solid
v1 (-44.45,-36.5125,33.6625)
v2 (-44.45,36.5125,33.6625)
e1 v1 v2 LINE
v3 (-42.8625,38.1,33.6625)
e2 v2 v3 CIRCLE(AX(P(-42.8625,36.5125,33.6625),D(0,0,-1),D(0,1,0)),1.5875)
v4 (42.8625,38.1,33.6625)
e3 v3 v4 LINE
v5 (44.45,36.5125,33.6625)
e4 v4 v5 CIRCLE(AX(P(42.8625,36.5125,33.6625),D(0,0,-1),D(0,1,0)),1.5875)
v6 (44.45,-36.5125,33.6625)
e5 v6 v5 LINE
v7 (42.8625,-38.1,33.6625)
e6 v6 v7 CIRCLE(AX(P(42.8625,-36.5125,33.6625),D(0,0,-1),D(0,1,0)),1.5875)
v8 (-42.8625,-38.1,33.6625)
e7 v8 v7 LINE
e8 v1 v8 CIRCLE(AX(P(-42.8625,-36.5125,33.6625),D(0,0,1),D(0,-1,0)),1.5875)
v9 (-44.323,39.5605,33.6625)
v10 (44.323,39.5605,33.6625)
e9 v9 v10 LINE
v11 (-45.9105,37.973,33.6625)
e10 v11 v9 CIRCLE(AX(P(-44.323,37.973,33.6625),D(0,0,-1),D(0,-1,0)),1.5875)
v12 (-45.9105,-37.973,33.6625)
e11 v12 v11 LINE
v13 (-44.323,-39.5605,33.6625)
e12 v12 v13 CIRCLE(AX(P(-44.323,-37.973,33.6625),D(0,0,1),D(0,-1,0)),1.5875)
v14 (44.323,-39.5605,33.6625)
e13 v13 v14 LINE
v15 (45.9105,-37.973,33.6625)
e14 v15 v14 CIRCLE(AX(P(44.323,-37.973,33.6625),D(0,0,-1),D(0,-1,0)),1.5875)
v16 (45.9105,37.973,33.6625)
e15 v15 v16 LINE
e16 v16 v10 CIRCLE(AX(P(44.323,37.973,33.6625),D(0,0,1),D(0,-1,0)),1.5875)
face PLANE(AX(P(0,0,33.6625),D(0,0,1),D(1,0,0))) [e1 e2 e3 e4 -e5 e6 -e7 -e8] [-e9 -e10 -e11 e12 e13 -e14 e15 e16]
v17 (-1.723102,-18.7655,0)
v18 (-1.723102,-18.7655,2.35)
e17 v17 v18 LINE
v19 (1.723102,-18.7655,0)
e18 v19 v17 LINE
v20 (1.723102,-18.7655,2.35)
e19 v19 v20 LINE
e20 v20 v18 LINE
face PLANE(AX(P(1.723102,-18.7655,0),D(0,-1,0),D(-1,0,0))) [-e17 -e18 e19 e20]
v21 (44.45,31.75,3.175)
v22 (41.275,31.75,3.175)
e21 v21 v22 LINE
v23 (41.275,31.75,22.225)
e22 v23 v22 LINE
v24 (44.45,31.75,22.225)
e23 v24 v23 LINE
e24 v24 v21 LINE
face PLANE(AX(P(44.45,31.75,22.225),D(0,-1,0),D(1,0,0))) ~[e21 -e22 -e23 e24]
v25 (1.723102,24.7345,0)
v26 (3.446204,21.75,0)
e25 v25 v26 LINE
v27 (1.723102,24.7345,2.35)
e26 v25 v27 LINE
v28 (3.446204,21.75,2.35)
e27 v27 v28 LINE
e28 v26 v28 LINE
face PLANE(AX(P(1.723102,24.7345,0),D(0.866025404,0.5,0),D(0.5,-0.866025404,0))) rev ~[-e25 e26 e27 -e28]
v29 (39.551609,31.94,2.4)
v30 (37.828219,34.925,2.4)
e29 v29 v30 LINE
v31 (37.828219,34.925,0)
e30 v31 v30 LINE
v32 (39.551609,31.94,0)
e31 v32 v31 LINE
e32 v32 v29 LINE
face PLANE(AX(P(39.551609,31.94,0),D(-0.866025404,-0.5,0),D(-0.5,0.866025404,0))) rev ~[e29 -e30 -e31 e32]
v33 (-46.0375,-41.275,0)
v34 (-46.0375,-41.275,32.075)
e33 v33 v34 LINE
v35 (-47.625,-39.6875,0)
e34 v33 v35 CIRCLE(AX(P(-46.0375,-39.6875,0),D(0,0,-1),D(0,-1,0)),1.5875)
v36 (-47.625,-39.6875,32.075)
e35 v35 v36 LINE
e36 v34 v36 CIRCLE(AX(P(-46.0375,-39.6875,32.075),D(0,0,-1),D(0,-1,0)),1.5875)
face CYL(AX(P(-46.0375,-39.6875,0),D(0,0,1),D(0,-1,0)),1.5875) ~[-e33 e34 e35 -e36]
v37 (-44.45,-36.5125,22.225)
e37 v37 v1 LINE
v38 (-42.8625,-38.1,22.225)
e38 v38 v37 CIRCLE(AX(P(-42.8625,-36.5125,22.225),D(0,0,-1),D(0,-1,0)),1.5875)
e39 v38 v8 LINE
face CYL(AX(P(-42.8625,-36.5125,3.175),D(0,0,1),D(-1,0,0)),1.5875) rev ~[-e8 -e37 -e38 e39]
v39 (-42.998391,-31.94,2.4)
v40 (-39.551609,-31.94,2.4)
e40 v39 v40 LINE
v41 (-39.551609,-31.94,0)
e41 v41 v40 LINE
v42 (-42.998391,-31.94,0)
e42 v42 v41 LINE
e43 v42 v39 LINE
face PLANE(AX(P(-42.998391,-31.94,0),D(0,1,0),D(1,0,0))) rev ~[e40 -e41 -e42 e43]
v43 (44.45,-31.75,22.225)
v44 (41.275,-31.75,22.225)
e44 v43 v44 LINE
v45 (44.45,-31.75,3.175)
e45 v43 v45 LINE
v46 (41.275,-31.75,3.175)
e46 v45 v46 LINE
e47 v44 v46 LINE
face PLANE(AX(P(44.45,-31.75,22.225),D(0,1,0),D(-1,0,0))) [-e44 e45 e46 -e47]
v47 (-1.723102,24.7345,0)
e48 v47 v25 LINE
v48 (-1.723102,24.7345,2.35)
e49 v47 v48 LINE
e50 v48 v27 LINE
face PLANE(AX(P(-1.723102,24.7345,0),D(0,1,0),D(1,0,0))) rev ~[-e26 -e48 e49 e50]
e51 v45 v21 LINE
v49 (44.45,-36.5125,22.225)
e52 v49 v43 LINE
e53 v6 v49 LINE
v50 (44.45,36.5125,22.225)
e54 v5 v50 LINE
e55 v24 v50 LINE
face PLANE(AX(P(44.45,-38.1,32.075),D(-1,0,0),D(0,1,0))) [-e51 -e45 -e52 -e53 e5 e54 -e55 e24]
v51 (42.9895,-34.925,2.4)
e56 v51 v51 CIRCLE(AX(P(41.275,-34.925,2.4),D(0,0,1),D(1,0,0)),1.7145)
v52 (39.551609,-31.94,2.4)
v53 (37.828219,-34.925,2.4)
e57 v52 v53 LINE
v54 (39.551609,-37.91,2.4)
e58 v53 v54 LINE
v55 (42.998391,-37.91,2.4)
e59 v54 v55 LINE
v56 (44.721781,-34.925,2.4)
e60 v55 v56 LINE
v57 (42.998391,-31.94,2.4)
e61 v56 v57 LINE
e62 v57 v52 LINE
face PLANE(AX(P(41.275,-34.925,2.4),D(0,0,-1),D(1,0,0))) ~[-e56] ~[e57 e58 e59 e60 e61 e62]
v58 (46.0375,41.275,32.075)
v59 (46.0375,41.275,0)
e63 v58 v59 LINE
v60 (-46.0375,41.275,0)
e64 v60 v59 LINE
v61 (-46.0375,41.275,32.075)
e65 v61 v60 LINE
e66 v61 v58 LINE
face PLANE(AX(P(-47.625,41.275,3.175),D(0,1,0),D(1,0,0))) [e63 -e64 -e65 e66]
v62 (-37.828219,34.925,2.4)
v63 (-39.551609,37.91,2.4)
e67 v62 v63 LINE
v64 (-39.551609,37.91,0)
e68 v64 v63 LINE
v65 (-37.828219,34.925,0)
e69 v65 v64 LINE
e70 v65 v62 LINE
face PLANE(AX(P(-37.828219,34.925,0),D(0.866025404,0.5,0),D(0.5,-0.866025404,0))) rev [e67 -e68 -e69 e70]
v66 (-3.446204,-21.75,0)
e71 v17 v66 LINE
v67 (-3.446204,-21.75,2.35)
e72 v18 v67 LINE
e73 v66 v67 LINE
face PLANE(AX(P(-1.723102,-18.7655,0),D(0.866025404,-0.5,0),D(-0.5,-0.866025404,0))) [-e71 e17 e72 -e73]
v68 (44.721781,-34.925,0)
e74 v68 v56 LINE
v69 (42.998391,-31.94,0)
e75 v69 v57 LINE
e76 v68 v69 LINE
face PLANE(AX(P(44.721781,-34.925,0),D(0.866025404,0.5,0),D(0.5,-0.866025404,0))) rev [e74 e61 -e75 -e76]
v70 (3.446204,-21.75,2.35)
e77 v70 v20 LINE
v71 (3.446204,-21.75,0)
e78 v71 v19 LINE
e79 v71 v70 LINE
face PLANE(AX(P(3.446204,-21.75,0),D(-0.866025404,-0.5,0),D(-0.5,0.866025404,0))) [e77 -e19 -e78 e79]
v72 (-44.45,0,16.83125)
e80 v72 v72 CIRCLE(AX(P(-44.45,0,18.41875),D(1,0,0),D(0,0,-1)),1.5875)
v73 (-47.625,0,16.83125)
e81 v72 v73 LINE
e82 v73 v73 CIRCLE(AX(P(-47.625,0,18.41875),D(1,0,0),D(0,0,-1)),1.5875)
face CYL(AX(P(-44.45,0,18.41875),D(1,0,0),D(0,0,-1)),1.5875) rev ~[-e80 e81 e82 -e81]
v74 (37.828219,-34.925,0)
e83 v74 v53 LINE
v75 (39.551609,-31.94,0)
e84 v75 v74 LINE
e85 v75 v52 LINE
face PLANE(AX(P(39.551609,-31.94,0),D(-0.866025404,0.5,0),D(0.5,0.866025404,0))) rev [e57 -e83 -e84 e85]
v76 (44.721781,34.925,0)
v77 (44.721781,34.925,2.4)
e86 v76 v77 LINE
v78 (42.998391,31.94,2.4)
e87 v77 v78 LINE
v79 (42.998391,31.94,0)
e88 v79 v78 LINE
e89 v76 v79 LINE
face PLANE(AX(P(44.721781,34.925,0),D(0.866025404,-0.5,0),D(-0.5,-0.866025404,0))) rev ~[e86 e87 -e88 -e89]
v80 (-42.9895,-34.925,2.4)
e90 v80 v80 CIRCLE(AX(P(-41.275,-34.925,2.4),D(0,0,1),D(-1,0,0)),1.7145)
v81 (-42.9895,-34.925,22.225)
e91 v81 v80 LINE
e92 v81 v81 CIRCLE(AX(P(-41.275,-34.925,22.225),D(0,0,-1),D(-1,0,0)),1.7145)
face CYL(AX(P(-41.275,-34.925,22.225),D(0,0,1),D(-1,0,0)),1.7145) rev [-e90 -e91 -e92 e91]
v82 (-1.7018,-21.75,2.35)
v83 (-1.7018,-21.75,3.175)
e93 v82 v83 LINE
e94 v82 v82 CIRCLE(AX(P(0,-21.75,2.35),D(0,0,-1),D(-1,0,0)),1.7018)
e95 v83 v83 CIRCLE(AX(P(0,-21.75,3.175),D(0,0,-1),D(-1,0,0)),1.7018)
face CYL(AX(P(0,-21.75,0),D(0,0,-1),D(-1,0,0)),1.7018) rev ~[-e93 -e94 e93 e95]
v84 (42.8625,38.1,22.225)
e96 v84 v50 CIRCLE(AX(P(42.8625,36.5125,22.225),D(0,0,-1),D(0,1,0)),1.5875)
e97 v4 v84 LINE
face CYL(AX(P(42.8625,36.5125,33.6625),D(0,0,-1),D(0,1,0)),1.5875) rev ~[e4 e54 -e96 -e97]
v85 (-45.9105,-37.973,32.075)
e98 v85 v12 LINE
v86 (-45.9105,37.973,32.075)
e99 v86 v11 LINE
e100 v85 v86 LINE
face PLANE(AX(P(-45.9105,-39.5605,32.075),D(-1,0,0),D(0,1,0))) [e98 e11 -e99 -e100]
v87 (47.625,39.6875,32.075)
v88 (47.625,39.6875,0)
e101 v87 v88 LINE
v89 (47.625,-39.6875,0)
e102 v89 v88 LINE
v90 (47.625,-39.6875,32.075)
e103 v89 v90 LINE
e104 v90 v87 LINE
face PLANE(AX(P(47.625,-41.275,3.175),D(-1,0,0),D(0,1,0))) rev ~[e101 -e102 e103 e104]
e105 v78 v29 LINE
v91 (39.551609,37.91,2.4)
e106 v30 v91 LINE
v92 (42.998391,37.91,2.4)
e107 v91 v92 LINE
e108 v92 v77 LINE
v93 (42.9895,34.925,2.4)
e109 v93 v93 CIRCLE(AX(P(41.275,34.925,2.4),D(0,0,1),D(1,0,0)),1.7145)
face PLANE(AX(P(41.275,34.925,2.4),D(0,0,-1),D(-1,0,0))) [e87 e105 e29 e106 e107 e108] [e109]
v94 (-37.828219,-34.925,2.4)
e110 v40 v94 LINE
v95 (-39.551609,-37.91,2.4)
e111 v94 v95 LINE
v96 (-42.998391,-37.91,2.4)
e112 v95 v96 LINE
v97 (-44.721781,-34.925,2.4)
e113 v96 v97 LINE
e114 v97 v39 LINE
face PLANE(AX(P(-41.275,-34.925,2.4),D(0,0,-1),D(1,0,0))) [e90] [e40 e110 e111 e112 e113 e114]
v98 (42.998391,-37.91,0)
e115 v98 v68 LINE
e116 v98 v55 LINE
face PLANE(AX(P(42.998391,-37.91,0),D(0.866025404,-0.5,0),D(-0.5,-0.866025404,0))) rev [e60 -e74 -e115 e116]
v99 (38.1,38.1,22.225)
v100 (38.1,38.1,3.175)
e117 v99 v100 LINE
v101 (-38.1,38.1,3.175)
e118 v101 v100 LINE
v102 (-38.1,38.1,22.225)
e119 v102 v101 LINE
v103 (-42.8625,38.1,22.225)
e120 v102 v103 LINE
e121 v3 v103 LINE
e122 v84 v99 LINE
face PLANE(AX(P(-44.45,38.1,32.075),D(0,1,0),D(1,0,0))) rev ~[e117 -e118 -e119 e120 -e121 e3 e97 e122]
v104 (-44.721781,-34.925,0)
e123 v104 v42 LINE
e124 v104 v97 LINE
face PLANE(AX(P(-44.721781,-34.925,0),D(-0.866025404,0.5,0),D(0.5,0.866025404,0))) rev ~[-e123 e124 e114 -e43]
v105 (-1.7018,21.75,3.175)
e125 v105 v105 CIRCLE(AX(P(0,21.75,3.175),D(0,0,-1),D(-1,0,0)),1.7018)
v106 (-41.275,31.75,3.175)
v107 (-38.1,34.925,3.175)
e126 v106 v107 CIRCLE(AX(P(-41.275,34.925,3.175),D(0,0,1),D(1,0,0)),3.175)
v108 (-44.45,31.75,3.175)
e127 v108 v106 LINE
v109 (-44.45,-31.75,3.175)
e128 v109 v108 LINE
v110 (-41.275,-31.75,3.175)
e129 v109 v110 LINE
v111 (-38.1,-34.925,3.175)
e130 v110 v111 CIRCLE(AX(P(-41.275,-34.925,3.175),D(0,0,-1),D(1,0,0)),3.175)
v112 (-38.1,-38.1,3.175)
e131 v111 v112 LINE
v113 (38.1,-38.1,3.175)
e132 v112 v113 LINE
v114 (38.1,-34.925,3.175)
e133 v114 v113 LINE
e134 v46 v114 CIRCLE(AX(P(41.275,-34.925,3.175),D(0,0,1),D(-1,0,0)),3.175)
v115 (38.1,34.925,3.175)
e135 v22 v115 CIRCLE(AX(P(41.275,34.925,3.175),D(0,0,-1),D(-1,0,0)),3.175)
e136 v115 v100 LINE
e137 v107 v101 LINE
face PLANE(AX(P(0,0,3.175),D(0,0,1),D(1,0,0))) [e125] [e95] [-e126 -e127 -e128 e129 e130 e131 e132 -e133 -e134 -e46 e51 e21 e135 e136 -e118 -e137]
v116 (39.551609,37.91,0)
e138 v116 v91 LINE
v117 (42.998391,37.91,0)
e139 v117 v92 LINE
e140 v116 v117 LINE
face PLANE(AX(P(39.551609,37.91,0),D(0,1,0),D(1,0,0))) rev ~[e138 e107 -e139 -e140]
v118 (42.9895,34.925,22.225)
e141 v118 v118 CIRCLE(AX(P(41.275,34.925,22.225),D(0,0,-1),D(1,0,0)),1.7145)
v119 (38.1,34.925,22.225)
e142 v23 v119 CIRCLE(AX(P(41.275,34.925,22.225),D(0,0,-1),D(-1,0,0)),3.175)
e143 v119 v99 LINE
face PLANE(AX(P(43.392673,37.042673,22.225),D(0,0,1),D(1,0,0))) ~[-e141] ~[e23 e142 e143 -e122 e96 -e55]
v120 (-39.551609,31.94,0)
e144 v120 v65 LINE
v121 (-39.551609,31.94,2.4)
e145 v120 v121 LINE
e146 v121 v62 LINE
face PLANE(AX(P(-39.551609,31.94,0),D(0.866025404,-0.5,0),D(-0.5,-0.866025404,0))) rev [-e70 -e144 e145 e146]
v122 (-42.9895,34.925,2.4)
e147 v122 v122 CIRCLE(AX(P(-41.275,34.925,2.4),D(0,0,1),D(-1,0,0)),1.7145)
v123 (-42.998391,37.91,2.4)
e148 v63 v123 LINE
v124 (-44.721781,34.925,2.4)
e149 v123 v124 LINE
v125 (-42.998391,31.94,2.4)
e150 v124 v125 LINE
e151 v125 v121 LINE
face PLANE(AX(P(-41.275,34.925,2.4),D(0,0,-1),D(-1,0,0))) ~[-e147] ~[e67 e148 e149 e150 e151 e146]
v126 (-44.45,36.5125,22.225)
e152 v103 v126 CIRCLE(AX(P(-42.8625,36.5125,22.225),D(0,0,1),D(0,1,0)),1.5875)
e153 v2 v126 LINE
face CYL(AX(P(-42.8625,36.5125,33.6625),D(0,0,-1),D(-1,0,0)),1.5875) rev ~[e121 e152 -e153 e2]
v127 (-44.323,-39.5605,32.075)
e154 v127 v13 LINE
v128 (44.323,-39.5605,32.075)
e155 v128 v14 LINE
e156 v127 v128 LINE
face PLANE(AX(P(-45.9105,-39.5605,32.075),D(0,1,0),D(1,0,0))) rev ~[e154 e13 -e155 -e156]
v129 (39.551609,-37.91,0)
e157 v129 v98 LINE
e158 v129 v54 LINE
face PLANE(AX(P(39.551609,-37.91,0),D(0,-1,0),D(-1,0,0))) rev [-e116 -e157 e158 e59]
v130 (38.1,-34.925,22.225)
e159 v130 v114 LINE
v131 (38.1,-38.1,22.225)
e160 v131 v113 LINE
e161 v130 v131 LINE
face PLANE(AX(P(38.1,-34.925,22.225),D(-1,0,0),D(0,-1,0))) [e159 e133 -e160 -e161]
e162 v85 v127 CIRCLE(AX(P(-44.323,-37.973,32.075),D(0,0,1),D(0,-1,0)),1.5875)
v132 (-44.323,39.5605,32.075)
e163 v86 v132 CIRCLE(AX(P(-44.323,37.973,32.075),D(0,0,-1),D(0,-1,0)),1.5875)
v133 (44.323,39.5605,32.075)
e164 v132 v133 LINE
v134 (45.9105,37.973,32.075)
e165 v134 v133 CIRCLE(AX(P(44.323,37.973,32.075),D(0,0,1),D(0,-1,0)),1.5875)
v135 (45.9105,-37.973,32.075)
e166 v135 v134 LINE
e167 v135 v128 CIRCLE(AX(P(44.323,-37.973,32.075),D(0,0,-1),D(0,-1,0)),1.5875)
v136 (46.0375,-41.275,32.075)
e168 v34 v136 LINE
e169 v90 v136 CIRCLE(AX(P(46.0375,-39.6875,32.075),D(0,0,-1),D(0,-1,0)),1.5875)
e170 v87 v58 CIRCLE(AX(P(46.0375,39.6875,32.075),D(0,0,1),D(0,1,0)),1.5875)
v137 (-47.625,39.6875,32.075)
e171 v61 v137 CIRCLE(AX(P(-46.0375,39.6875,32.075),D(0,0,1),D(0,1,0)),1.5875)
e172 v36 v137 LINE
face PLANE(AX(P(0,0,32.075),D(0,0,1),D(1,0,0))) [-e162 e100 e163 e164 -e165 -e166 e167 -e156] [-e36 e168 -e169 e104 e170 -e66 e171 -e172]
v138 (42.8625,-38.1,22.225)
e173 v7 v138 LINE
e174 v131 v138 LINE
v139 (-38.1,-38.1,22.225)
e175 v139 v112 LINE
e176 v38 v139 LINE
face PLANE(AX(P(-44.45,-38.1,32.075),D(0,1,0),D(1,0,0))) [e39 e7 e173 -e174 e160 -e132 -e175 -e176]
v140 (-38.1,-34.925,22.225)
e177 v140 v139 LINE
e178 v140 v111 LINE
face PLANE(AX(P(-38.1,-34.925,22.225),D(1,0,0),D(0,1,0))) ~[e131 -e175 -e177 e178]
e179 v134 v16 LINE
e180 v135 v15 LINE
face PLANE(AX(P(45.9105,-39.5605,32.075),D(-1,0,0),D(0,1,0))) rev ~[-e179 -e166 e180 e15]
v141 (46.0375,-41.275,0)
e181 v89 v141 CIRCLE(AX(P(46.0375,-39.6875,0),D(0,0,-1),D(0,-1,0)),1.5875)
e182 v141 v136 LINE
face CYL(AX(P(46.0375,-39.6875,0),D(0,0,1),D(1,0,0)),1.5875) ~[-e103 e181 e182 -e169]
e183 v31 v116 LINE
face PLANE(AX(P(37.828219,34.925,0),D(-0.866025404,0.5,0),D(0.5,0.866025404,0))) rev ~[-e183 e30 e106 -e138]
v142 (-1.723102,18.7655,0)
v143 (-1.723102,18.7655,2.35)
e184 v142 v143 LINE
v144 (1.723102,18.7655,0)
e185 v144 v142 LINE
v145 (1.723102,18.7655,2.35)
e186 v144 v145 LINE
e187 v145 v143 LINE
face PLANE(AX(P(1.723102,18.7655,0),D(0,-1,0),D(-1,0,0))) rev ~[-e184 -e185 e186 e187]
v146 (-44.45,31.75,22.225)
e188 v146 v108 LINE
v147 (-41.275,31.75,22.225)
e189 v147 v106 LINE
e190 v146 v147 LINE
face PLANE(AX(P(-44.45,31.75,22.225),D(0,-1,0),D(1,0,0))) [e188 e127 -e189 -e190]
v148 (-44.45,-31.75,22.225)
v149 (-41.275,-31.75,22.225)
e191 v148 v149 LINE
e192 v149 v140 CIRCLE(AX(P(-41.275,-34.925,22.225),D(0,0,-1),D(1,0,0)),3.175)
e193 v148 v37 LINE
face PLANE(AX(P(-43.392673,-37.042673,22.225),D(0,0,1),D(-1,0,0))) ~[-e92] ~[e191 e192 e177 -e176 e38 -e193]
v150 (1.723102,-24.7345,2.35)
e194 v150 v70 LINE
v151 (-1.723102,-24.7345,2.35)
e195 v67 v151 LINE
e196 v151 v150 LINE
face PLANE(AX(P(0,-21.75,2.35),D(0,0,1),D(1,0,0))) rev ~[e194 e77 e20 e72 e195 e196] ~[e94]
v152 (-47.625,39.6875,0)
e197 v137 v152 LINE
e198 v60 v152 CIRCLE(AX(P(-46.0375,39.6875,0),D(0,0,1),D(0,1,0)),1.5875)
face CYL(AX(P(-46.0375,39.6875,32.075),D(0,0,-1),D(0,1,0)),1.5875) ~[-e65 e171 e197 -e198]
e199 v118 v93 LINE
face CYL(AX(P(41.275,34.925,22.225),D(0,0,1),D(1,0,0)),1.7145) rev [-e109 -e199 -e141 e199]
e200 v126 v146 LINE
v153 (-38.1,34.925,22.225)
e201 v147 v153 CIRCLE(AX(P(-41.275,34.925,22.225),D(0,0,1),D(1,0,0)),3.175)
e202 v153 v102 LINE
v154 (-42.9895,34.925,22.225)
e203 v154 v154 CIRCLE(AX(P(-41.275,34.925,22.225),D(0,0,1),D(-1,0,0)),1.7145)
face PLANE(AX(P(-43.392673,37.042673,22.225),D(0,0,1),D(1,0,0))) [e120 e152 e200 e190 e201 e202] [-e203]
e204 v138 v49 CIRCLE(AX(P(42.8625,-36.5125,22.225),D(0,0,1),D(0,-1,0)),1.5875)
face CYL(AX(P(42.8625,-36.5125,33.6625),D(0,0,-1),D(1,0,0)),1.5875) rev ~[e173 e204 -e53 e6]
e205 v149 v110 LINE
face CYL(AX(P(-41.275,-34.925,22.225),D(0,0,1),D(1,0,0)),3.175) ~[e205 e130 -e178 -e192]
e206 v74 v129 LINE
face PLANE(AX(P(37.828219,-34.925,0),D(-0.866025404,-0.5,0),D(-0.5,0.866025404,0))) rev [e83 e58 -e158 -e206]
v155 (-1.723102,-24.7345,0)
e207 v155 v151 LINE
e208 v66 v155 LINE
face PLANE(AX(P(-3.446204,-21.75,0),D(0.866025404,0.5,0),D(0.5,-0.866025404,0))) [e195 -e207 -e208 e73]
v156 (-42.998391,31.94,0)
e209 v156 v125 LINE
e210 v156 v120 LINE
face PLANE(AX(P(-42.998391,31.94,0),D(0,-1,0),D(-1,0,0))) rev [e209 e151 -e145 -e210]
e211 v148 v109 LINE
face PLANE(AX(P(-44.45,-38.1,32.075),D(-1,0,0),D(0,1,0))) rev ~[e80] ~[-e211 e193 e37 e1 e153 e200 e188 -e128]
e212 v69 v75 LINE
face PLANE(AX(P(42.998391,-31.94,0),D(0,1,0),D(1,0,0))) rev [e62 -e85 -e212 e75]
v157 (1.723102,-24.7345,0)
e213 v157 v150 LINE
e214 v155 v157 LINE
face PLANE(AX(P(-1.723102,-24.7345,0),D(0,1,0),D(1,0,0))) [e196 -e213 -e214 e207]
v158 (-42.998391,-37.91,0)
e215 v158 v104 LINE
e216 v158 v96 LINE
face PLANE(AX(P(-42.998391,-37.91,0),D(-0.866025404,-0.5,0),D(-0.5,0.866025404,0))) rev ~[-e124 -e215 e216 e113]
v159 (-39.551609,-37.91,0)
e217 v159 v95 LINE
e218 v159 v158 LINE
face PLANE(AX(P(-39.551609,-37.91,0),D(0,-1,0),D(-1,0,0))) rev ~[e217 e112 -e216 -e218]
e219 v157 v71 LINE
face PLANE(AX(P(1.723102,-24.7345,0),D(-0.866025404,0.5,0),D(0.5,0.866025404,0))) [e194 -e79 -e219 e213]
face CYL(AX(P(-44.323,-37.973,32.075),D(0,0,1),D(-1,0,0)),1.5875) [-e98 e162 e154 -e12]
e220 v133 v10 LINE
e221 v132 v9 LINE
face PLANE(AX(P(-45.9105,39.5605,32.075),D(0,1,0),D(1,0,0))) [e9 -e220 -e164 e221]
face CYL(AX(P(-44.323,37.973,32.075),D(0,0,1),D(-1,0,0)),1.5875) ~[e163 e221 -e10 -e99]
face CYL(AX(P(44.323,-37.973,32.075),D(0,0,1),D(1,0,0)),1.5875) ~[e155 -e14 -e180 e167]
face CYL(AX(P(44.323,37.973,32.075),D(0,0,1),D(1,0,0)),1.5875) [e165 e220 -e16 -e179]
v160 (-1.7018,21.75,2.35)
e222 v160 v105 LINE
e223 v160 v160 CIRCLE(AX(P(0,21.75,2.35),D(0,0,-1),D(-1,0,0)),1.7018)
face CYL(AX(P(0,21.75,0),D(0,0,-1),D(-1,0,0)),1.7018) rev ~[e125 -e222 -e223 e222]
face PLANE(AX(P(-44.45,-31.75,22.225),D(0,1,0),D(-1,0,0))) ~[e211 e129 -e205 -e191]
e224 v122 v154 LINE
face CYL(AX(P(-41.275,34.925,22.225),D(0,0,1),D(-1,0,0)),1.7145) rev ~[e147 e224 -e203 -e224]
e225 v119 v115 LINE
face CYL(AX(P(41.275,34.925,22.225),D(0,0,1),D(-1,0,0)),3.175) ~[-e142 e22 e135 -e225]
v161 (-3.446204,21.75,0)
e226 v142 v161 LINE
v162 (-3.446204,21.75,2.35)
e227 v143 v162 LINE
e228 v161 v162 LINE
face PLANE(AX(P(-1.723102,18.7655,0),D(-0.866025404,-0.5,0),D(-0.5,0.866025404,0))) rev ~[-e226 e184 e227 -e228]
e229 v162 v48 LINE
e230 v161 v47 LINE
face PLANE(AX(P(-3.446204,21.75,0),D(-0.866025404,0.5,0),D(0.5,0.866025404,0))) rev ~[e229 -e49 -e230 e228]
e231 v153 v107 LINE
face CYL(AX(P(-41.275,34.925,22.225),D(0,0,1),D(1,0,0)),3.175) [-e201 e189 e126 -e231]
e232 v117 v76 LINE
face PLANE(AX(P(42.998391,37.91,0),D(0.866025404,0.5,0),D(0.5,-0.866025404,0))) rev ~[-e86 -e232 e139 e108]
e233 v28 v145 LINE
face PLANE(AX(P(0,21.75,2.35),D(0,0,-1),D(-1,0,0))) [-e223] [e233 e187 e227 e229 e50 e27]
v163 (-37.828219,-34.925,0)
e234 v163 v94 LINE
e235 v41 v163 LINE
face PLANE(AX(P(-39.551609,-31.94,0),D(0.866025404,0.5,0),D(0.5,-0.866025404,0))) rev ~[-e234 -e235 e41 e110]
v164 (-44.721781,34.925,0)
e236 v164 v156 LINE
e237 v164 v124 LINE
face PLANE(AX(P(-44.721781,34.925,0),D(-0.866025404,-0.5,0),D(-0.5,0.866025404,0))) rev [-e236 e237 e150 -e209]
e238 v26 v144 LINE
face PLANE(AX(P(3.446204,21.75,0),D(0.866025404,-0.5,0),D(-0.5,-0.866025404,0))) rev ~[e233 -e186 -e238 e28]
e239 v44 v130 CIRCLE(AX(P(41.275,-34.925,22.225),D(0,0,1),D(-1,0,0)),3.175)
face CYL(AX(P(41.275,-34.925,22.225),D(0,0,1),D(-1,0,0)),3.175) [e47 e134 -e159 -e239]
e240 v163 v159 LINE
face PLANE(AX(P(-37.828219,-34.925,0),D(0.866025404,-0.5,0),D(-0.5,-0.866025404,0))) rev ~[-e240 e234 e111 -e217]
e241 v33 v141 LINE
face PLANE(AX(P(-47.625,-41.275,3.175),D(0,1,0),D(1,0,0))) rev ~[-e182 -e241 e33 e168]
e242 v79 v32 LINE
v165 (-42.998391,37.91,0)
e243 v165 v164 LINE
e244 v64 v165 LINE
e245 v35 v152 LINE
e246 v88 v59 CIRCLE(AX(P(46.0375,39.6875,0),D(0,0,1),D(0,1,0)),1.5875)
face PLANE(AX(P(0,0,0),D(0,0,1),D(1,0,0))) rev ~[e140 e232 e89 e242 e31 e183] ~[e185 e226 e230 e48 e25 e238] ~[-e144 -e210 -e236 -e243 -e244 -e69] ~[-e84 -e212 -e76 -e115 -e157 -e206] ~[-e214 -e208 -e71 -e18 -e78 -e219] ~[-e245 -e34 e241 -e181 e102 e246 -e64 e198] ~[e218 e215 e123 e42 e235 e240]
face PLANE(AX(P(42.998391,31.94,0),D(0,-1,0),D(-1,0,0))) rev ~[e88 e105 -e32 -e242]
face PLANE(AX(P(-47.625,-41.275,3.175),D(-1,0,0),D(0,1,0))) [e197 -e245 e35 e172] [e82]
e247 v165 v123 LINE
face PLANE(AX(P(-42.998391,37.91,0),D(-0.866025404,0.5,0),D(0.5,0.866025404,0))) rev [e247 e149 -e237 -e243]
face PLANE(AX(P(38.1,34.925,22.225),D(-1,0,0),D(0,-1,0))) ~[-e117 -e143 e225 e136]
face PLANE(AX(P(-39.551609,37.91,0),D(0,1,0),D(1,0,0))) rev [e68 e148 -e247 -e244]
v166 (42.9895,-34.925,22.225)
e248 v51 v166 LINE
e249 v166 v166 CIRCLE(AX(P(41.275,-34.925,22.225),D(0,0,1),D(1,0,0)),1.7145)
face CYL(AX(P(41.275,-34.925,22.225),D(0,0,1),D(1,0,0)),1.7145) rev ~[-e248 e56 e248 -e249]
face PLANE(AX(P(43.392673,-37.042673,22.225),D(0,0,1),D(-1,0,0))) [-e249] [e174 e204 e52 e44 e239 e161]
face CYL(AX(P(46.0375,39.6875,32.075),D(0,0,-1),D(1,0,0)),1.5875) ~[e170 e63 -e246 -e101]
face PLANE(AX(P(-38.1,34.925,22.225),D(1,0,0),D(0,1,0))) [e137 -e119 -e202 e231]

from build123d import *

# Parameters (mm, degrees)
SKETCH1_W                                    = 95.25
SKETCH1_H                                    = 82.55
BOSS_EXTRUDE1_DEPTH                          = 3.175
SKETCH2_W                                    = 95.25
SKETCH2_H                                    = 82.55
SKETCH2_W_2                                  = 88.9
SKETCH2_H_2                                  = 76.2
BOSS_EXTRUDE2_DEPTH                          = 28.9
SKETCH3_W                                    = 91.821
SKETCH3_H                                    = 79.121
SKETCH3_W_2                                  = 88.9
SKETCH3_H_2                                  = 76.2
BOSS_EXTRUDE3_DEPTH                          = 1.5875
FILLET1_R                                    = 1.5875
SKETCH4_R                                    = 1.7018
CUT_EXTRUDE1_DEPTH                           = 72.448793945
CUT_EXTRUDE2_DEPTH                           = 2.35
BOSS_EXTRUDE4_START                          = 19.05
SKETCH7_R                                    = 3.175
SKETCH7_R_2                                  = 1.7145
BOSS_EXTRUDE4_DEPTH                          = 19.05
SKETCH8_R                                    = 1.7145
CUT_EXTRUDE3_DEPTH                           = 67.826019446
MIRROR1_START                                = 19.05
MIRROR1_AT_THE_SECOND_PLANE_COPY_1_SKETC_R   = 3.175
MIRROR1_AT_THE_SECOND_PLANE_COPY_1_SKETC_R_2 = 1.7145
MIRROR1_AT_THE_SECOND_PLANE_COPY_1_DEPTH     = 19.05
MIRROR1_AT_THE_SECOND_PLANE_COPY_2_SKETC_R   = 1.7145
MIRROR1_AT_THE_SECOND_PLANE_COPY_2_DEPTH     = 67.826019446
CUT_EXTRUDE4_DEPTH                           = 2.4
MIRROR2_AT_THE_SECOND_PLANE_COPY_1_DEPTH     = 2.4
CUT_EXTRUDE5_DEPTH                           = 107.370085815


with BuildPart() as part:
    # Sketch1 → Boss-Extrude1 (new body)
    with BuildSketch(Plane.XY):
        Rectangle(SKETCH1_W, SKETCH1_H)
    extrude(amount=BOSS_EXTRUDE1_DEPTH)

    # Sketch2 → Boss-Extrude2 (add)
    with BuildSketch(Plane.XY.offset(3.175)):
        Rectangle(SKETCH2_W, SKETCH2_H)
        Rectangle(SKETCH2_W_2, SKETCH2_H_2, mode=Mode.SUBTRACT)
    extrude(amount=BOSS_EXTRUDE2_DEPTH)

    # Sketch3 → Boss-Extrude3 (add)
    with BuildSketch(Plane.XY.offset(32.075)):
        Rectangle(SKETCH3_W, SKETCH3_H)
        Rectangle(SKETCH3_W_2, SKETCH3_H_2, mode=Mode.SUBTRACT)
    extrude(amount=BOSS_EXTRUDE3_DEPTH)

    # Fillet1
    fillet1_edges = [part.edges().sort_by_distance(p)[0] for p in [
        (44.45, 38.1, 18.41875),
        (-44.45, 38.1, 18.41875),
        (-44.45, -38.1, 18.41875),
        (44.45, -38.1, 18.41875),
        (45.9105, -39.5605, 32.86875),
        (45.9105, 39.5605, 32.86875),
        (-45.9105, 39.5605, 32.86875),
        (-45.9105, -39.5605, 32.86875),
        (47.625, -41.275, 16.0375),
        (-47.625, -41.275, 16.0375),
        (-47.625, 41.275, 16.0375),
        (47.625, 41.275, 16.0375),
    ]]
    fillet(fillet1_edges, radius=FILLET1_R)

    # Sketch4 → Cut-Extrude1 (cut, through all)
    with BuildSketch(Plane(origin=(0, 0, 0), x_dir=(-1, 0, 0), z_dir=(0, 0, -1))):
        with Locations((0, 21.749999934)):
            Circle(SKETCH4_R)
        with Locations((0, -21.749999934)):
            Circle(SKETCH4_R)
    extrude(amount=-CUT_EXTRUDE1_DEPTH, mode=Mode.SUBTRACT)

    # Sketch5 → Cut-Extrude2 (cut)
    with BuildSketch(Plane(origin=(0, 0, 0), x_dir=(-1, 0, 0), z_dir=(0, 0, -1))):
        Polygon((3.446203757, 21.749999934), (1.723101878, 24.734499934), (-1.723101878, 24.734499934), (-3.446203757, 21.749999934), (-1.723101878, 18.765499934), (1.723101878, 18.765499934), align=None)
        Polygon((1.723101878, -18.765499934), (3.446203757, -21.749999934), (1.723101878, -24.734499934), (-1.723101878, -24.734499934), (-3.446203757, -21.749999934), (-1.723101878, -18.765499934), align=None)
    extrude(amount=-CUT_EXTRUDE2_DEPTH, mode=Mode.SUBTRACT)

    # Sketch7 → Boss-Extrude4 (add)
    # profile 1 of 4: a face of its own
    with BuildSketch(Plane.XY.offset(3.175).offset(BOSS_EXTRUDE4_START)):
        with BuildLine():
            ThreePointArc((-44.45, 34.925), (-43.520064053, 37.170064008), (-41.275000064, 38.1))
            Line((-41.275000064, 38.1), (-42.8625, 38.1))
            ThreePointArc((-42.8625, 38.1), (-43.985032015, 37.635032015), (-44.45, 36.5125))
            Line((-44.45, 36.5125), (-44.45, 34.925))
        make_face()
    # profile 2 of 4: a face of its own
    with BuildSketch(Plane.XY.offset(3.175).offset(BOSS_EXTRUDE4_START)):
        with BuildLine():
            Line((-44.45, 34.925), (-44.45, 31.75))
            Line((-44.45, 31.75), (-41.275, 31.75))
            ThreePointArc((-41.275, 31.75), (-43.52006403, 32.67993597), (-44.45, 34.925))
        make_face()
    # profile 3 of 4: a face of its own
    with BuildSketch(Plane.XY.offset(3.175).offset(BOSS_EXTRUDE4_START)):
        with BuildLine():
            Line((-38.1, 34.925), (-38.1, 38.1))
            Line((-38.1, 38.1), (-41.275000064, 38.1))
            ThreePointArc((-41.275000064, 38.1), (-39.029935992, 37.170064053), (-38.1, 34.925))
        make_face()
    # profile 4 of 4: a face of its own
    with BuildSketch(Plane.XY.offset(3.175).offset(BOSS_EXTRUDE4_START)):
        with Locations((-41.275, 34.925)):
            Circle(SKETCH7_R)
        with Locations(Location((-41.275, 34.925, 0), (0, 0, 180))):
            Circle(SKETCH7_R_2, mode=Mode.SUBTRACT)
    boss_extrude4 = extrude(amount=-BOSS_EXTRUDE4_DEPTH)

    # Sketch8 → Cut-Extrude3 (cut, through all)
    with BuildSketch(Plane.XY.offset(22.225)):
        with Locations(Location((-41.275, 34.925, 0), (0, 0, 180))):
            Circle(SKETCH8_R)
    cut_extrude3 = extrude(amount=-CUT_EXTRUDE3_DEPTH, mode=Mode.SUBTRACT)

    # Mirror1: Boss-Extrude4, Cut-Extrude3 across plane
    add(boss_extrude4.mirror(Plane(origin=(0, 0, 0), x_dir=(0, 0, 1), z_dir=(1, 0, 0))))
    add(cut_extrude3.mirror(Plane(origin=(0, 0, 0), x_dir=(0, 0, 1), z_dir=(1, 0, 0))), mode=Mode.SUBTRACT)

    # Mirror1 at the second plane: Boss-Extrude4, Cut-Extrude3 across plane
    add(boss_extrude4.mirror(Plane.ZX))
    add(cut_extrude3.mirror(Plane.ZX), mode=Mode.SUBTRACT)

    # Mirror1 at the second plane copy 1 sketc → Mirror1 at the second plane copy 1 (add)
    # profile 1 of 4: a face of its own
    with BuildSketch(Plane(origin=(0, 0, 3.175), x_dir=(-1, 0, 0), z_dir=(0, 0, 1)).offset(MIRROR1_START)):
        with BuildLine():
            ThreePointArc((-44.45, 34.925), (-43.520064053, 37.170064008), (-41.275000064, 38.1))
            Line((-41.275000064, 38.1), (-42.8625, 38.1))
            ThreePointArc((-42.8625, 38.1), (-43.985032015, 37.635032015), (-44.45, 36.5125))
            Line((-44.45, 36.5125), (-44.45, 34.925))
        make_face()
    # profile 2 of 4: a face of its own
    with BuildSketch(Plane(origin=(0, 0, 3.175), x_dir=(-1, 0, 0), z_dir=(0, 0, 1)).offset(MIRROR1_START)):
        with BuildLine():
            Line((-44.45, 34.925), (-44.45, 31.75))
            Line((-44.45, 31.75), (-41.275, 31.75))
            ThreePointArc((-41.275, 31.75), (-43.52006403, 32.67993597), (-44.45, 34.925))
        make_face()
    # profile 3 of 4: a face of its own
    with BuildSketch(Plane(origin=(0, 0, 3.175), x_dir=(-1, 0, 0), z_dir=(0, 0, 1)).offset(MIRROR1_START)):
        with BuildLine():
            Line((-38.1, 34.925), (-38.1, 38.1))
            Line((-38.1, 38.1), (-41.275000064, 38.1))
            ThreePointArc((-41.275000064, 38.1), (-39.029935992, 37.170064053), (-38.1, 34.925))
        make_face()
    # profile 4 of 4: a face of its own
    with BuildSketch(Plane(origin=(0, 0, 3.175), x_dir=(-1, 0, 0), z_dir=(0, 0, 1)).offset(MIRROR1_START)):
        with Locations((-41.275, 34.925)):
            Circle(MIRROR1_AT_THE_SECOND_PLANE_COPY_1_SKETC_R)
        with Locations(Location((-41.275, 34.925, 0), (0, 0, 180))):
            Circle(MIRROR1_AT_THE_SECOND_PLANE_COPY_1_SKETC_R_2, mode=Mode.SUBTRACT)
    extrude(amount=-MIRROR1_AT_THE_SECOND_PLANE_COPY_1_DEPTH)

    # Mirror1 at the second plane copy 2 sketc → Mirror1 at the second plane copy 2 (cut, through all)
    with BuildSketch(Plane(origin=(0, 0, 22.225), x_dir=(-1, 0, 0), z_dir=(0, 0, 1))):
        with Locations(Location((-41.275, 34.925, 0), (0, 0, 180))):
            Circle(MIRROR1_AT_THE_SECOND_PLANE_COPY_2_SKETC_R)
    extrude(amount=-MIRROR1_AT_THE_SECOND_PLANE_COPY_2_DEPTH, mode=Mode.SUBTRACT)

    # Sketch9 → Cut-Extrude4 (cut)
    with BuildSketch(Plane(origin=(0, 0, 0), x_dir=(-1, 0, 0), z_dir=(0, 0, -1))):
        Polygon((-37.828218894, 34.925), (-39.551609447, 37.909999999), (-42.998390553, 37.909999999), (-44.721781106, 34.925), (-42.998390553, 31.940000001), (-39.551609447, 31.940000001), align=None)
    cut_extrude4 = extrude(amount=-CUT_EXTRUDE4_DEPTH, mode=Mode.SUBTRACT)

    # Mirror2: Cut-Extrude4 across plane
    add(cut_extrude4.mirror(Plane(origin=(0, 0, 0), x_dir=(0, 0, 1), z_dir=(1, 0, 0))), mode=Mode.SUBTRACT)

    # Mirror2 at the second plane: Cut-Extrude4 across plane
    add(cut_extrude4.mirror(Plane.ZX), mode=Mode.SUBTRACT)

    # Mirror2 at the second plane copy 1 sketc → Mirror2 at the second plane copy 1 (cut)
    with BuildSketch(Plane(origin=(0, 0, 0), x_dir=(1, 0, 0), z_dir=(0, 0, -1))):
        Polygon((-37.828218894, 34.925), (-39.551609447, 37.909999999), (-42.998390553, 37.909999999), (-44.721781106, 34.925), (-42.998390553, 31.940000001), (-39.551609447, 31.940000001), align=None)
    extrude(amount=-MIRROR2_AT_THE_SECOND_PLANE_COPY_1_DEPTH, mode=Mode.SUBTRACT)

    # Sketch10 → Cut-Extrude5 (cut, through all)
    with BuildSketch(Plane(origin=(-44.45, 0, 0), x_dir=(0, 0, -1), z_dir=(1, 0, 0))):
        with BuildLine():
            ThreePointArc((-20.00625, 0), (-18.41875, -1.5875), (-16.83125, 0))
            Line((-16.83125, 0), (-20.00625, 0))
        make_face()
        with BuildLine():
            Line((-20.00625, 0), (-16.83125, 0))
            ThreePointArc((-16.83125, 0), (-18.41875, 1.5875), (-20.00625, 0))
        make_face()
    extrude(amount=-CUT_EXTRUDE5_DEPTH, mode=Mode.SUBTRACT)


solid = part.part
